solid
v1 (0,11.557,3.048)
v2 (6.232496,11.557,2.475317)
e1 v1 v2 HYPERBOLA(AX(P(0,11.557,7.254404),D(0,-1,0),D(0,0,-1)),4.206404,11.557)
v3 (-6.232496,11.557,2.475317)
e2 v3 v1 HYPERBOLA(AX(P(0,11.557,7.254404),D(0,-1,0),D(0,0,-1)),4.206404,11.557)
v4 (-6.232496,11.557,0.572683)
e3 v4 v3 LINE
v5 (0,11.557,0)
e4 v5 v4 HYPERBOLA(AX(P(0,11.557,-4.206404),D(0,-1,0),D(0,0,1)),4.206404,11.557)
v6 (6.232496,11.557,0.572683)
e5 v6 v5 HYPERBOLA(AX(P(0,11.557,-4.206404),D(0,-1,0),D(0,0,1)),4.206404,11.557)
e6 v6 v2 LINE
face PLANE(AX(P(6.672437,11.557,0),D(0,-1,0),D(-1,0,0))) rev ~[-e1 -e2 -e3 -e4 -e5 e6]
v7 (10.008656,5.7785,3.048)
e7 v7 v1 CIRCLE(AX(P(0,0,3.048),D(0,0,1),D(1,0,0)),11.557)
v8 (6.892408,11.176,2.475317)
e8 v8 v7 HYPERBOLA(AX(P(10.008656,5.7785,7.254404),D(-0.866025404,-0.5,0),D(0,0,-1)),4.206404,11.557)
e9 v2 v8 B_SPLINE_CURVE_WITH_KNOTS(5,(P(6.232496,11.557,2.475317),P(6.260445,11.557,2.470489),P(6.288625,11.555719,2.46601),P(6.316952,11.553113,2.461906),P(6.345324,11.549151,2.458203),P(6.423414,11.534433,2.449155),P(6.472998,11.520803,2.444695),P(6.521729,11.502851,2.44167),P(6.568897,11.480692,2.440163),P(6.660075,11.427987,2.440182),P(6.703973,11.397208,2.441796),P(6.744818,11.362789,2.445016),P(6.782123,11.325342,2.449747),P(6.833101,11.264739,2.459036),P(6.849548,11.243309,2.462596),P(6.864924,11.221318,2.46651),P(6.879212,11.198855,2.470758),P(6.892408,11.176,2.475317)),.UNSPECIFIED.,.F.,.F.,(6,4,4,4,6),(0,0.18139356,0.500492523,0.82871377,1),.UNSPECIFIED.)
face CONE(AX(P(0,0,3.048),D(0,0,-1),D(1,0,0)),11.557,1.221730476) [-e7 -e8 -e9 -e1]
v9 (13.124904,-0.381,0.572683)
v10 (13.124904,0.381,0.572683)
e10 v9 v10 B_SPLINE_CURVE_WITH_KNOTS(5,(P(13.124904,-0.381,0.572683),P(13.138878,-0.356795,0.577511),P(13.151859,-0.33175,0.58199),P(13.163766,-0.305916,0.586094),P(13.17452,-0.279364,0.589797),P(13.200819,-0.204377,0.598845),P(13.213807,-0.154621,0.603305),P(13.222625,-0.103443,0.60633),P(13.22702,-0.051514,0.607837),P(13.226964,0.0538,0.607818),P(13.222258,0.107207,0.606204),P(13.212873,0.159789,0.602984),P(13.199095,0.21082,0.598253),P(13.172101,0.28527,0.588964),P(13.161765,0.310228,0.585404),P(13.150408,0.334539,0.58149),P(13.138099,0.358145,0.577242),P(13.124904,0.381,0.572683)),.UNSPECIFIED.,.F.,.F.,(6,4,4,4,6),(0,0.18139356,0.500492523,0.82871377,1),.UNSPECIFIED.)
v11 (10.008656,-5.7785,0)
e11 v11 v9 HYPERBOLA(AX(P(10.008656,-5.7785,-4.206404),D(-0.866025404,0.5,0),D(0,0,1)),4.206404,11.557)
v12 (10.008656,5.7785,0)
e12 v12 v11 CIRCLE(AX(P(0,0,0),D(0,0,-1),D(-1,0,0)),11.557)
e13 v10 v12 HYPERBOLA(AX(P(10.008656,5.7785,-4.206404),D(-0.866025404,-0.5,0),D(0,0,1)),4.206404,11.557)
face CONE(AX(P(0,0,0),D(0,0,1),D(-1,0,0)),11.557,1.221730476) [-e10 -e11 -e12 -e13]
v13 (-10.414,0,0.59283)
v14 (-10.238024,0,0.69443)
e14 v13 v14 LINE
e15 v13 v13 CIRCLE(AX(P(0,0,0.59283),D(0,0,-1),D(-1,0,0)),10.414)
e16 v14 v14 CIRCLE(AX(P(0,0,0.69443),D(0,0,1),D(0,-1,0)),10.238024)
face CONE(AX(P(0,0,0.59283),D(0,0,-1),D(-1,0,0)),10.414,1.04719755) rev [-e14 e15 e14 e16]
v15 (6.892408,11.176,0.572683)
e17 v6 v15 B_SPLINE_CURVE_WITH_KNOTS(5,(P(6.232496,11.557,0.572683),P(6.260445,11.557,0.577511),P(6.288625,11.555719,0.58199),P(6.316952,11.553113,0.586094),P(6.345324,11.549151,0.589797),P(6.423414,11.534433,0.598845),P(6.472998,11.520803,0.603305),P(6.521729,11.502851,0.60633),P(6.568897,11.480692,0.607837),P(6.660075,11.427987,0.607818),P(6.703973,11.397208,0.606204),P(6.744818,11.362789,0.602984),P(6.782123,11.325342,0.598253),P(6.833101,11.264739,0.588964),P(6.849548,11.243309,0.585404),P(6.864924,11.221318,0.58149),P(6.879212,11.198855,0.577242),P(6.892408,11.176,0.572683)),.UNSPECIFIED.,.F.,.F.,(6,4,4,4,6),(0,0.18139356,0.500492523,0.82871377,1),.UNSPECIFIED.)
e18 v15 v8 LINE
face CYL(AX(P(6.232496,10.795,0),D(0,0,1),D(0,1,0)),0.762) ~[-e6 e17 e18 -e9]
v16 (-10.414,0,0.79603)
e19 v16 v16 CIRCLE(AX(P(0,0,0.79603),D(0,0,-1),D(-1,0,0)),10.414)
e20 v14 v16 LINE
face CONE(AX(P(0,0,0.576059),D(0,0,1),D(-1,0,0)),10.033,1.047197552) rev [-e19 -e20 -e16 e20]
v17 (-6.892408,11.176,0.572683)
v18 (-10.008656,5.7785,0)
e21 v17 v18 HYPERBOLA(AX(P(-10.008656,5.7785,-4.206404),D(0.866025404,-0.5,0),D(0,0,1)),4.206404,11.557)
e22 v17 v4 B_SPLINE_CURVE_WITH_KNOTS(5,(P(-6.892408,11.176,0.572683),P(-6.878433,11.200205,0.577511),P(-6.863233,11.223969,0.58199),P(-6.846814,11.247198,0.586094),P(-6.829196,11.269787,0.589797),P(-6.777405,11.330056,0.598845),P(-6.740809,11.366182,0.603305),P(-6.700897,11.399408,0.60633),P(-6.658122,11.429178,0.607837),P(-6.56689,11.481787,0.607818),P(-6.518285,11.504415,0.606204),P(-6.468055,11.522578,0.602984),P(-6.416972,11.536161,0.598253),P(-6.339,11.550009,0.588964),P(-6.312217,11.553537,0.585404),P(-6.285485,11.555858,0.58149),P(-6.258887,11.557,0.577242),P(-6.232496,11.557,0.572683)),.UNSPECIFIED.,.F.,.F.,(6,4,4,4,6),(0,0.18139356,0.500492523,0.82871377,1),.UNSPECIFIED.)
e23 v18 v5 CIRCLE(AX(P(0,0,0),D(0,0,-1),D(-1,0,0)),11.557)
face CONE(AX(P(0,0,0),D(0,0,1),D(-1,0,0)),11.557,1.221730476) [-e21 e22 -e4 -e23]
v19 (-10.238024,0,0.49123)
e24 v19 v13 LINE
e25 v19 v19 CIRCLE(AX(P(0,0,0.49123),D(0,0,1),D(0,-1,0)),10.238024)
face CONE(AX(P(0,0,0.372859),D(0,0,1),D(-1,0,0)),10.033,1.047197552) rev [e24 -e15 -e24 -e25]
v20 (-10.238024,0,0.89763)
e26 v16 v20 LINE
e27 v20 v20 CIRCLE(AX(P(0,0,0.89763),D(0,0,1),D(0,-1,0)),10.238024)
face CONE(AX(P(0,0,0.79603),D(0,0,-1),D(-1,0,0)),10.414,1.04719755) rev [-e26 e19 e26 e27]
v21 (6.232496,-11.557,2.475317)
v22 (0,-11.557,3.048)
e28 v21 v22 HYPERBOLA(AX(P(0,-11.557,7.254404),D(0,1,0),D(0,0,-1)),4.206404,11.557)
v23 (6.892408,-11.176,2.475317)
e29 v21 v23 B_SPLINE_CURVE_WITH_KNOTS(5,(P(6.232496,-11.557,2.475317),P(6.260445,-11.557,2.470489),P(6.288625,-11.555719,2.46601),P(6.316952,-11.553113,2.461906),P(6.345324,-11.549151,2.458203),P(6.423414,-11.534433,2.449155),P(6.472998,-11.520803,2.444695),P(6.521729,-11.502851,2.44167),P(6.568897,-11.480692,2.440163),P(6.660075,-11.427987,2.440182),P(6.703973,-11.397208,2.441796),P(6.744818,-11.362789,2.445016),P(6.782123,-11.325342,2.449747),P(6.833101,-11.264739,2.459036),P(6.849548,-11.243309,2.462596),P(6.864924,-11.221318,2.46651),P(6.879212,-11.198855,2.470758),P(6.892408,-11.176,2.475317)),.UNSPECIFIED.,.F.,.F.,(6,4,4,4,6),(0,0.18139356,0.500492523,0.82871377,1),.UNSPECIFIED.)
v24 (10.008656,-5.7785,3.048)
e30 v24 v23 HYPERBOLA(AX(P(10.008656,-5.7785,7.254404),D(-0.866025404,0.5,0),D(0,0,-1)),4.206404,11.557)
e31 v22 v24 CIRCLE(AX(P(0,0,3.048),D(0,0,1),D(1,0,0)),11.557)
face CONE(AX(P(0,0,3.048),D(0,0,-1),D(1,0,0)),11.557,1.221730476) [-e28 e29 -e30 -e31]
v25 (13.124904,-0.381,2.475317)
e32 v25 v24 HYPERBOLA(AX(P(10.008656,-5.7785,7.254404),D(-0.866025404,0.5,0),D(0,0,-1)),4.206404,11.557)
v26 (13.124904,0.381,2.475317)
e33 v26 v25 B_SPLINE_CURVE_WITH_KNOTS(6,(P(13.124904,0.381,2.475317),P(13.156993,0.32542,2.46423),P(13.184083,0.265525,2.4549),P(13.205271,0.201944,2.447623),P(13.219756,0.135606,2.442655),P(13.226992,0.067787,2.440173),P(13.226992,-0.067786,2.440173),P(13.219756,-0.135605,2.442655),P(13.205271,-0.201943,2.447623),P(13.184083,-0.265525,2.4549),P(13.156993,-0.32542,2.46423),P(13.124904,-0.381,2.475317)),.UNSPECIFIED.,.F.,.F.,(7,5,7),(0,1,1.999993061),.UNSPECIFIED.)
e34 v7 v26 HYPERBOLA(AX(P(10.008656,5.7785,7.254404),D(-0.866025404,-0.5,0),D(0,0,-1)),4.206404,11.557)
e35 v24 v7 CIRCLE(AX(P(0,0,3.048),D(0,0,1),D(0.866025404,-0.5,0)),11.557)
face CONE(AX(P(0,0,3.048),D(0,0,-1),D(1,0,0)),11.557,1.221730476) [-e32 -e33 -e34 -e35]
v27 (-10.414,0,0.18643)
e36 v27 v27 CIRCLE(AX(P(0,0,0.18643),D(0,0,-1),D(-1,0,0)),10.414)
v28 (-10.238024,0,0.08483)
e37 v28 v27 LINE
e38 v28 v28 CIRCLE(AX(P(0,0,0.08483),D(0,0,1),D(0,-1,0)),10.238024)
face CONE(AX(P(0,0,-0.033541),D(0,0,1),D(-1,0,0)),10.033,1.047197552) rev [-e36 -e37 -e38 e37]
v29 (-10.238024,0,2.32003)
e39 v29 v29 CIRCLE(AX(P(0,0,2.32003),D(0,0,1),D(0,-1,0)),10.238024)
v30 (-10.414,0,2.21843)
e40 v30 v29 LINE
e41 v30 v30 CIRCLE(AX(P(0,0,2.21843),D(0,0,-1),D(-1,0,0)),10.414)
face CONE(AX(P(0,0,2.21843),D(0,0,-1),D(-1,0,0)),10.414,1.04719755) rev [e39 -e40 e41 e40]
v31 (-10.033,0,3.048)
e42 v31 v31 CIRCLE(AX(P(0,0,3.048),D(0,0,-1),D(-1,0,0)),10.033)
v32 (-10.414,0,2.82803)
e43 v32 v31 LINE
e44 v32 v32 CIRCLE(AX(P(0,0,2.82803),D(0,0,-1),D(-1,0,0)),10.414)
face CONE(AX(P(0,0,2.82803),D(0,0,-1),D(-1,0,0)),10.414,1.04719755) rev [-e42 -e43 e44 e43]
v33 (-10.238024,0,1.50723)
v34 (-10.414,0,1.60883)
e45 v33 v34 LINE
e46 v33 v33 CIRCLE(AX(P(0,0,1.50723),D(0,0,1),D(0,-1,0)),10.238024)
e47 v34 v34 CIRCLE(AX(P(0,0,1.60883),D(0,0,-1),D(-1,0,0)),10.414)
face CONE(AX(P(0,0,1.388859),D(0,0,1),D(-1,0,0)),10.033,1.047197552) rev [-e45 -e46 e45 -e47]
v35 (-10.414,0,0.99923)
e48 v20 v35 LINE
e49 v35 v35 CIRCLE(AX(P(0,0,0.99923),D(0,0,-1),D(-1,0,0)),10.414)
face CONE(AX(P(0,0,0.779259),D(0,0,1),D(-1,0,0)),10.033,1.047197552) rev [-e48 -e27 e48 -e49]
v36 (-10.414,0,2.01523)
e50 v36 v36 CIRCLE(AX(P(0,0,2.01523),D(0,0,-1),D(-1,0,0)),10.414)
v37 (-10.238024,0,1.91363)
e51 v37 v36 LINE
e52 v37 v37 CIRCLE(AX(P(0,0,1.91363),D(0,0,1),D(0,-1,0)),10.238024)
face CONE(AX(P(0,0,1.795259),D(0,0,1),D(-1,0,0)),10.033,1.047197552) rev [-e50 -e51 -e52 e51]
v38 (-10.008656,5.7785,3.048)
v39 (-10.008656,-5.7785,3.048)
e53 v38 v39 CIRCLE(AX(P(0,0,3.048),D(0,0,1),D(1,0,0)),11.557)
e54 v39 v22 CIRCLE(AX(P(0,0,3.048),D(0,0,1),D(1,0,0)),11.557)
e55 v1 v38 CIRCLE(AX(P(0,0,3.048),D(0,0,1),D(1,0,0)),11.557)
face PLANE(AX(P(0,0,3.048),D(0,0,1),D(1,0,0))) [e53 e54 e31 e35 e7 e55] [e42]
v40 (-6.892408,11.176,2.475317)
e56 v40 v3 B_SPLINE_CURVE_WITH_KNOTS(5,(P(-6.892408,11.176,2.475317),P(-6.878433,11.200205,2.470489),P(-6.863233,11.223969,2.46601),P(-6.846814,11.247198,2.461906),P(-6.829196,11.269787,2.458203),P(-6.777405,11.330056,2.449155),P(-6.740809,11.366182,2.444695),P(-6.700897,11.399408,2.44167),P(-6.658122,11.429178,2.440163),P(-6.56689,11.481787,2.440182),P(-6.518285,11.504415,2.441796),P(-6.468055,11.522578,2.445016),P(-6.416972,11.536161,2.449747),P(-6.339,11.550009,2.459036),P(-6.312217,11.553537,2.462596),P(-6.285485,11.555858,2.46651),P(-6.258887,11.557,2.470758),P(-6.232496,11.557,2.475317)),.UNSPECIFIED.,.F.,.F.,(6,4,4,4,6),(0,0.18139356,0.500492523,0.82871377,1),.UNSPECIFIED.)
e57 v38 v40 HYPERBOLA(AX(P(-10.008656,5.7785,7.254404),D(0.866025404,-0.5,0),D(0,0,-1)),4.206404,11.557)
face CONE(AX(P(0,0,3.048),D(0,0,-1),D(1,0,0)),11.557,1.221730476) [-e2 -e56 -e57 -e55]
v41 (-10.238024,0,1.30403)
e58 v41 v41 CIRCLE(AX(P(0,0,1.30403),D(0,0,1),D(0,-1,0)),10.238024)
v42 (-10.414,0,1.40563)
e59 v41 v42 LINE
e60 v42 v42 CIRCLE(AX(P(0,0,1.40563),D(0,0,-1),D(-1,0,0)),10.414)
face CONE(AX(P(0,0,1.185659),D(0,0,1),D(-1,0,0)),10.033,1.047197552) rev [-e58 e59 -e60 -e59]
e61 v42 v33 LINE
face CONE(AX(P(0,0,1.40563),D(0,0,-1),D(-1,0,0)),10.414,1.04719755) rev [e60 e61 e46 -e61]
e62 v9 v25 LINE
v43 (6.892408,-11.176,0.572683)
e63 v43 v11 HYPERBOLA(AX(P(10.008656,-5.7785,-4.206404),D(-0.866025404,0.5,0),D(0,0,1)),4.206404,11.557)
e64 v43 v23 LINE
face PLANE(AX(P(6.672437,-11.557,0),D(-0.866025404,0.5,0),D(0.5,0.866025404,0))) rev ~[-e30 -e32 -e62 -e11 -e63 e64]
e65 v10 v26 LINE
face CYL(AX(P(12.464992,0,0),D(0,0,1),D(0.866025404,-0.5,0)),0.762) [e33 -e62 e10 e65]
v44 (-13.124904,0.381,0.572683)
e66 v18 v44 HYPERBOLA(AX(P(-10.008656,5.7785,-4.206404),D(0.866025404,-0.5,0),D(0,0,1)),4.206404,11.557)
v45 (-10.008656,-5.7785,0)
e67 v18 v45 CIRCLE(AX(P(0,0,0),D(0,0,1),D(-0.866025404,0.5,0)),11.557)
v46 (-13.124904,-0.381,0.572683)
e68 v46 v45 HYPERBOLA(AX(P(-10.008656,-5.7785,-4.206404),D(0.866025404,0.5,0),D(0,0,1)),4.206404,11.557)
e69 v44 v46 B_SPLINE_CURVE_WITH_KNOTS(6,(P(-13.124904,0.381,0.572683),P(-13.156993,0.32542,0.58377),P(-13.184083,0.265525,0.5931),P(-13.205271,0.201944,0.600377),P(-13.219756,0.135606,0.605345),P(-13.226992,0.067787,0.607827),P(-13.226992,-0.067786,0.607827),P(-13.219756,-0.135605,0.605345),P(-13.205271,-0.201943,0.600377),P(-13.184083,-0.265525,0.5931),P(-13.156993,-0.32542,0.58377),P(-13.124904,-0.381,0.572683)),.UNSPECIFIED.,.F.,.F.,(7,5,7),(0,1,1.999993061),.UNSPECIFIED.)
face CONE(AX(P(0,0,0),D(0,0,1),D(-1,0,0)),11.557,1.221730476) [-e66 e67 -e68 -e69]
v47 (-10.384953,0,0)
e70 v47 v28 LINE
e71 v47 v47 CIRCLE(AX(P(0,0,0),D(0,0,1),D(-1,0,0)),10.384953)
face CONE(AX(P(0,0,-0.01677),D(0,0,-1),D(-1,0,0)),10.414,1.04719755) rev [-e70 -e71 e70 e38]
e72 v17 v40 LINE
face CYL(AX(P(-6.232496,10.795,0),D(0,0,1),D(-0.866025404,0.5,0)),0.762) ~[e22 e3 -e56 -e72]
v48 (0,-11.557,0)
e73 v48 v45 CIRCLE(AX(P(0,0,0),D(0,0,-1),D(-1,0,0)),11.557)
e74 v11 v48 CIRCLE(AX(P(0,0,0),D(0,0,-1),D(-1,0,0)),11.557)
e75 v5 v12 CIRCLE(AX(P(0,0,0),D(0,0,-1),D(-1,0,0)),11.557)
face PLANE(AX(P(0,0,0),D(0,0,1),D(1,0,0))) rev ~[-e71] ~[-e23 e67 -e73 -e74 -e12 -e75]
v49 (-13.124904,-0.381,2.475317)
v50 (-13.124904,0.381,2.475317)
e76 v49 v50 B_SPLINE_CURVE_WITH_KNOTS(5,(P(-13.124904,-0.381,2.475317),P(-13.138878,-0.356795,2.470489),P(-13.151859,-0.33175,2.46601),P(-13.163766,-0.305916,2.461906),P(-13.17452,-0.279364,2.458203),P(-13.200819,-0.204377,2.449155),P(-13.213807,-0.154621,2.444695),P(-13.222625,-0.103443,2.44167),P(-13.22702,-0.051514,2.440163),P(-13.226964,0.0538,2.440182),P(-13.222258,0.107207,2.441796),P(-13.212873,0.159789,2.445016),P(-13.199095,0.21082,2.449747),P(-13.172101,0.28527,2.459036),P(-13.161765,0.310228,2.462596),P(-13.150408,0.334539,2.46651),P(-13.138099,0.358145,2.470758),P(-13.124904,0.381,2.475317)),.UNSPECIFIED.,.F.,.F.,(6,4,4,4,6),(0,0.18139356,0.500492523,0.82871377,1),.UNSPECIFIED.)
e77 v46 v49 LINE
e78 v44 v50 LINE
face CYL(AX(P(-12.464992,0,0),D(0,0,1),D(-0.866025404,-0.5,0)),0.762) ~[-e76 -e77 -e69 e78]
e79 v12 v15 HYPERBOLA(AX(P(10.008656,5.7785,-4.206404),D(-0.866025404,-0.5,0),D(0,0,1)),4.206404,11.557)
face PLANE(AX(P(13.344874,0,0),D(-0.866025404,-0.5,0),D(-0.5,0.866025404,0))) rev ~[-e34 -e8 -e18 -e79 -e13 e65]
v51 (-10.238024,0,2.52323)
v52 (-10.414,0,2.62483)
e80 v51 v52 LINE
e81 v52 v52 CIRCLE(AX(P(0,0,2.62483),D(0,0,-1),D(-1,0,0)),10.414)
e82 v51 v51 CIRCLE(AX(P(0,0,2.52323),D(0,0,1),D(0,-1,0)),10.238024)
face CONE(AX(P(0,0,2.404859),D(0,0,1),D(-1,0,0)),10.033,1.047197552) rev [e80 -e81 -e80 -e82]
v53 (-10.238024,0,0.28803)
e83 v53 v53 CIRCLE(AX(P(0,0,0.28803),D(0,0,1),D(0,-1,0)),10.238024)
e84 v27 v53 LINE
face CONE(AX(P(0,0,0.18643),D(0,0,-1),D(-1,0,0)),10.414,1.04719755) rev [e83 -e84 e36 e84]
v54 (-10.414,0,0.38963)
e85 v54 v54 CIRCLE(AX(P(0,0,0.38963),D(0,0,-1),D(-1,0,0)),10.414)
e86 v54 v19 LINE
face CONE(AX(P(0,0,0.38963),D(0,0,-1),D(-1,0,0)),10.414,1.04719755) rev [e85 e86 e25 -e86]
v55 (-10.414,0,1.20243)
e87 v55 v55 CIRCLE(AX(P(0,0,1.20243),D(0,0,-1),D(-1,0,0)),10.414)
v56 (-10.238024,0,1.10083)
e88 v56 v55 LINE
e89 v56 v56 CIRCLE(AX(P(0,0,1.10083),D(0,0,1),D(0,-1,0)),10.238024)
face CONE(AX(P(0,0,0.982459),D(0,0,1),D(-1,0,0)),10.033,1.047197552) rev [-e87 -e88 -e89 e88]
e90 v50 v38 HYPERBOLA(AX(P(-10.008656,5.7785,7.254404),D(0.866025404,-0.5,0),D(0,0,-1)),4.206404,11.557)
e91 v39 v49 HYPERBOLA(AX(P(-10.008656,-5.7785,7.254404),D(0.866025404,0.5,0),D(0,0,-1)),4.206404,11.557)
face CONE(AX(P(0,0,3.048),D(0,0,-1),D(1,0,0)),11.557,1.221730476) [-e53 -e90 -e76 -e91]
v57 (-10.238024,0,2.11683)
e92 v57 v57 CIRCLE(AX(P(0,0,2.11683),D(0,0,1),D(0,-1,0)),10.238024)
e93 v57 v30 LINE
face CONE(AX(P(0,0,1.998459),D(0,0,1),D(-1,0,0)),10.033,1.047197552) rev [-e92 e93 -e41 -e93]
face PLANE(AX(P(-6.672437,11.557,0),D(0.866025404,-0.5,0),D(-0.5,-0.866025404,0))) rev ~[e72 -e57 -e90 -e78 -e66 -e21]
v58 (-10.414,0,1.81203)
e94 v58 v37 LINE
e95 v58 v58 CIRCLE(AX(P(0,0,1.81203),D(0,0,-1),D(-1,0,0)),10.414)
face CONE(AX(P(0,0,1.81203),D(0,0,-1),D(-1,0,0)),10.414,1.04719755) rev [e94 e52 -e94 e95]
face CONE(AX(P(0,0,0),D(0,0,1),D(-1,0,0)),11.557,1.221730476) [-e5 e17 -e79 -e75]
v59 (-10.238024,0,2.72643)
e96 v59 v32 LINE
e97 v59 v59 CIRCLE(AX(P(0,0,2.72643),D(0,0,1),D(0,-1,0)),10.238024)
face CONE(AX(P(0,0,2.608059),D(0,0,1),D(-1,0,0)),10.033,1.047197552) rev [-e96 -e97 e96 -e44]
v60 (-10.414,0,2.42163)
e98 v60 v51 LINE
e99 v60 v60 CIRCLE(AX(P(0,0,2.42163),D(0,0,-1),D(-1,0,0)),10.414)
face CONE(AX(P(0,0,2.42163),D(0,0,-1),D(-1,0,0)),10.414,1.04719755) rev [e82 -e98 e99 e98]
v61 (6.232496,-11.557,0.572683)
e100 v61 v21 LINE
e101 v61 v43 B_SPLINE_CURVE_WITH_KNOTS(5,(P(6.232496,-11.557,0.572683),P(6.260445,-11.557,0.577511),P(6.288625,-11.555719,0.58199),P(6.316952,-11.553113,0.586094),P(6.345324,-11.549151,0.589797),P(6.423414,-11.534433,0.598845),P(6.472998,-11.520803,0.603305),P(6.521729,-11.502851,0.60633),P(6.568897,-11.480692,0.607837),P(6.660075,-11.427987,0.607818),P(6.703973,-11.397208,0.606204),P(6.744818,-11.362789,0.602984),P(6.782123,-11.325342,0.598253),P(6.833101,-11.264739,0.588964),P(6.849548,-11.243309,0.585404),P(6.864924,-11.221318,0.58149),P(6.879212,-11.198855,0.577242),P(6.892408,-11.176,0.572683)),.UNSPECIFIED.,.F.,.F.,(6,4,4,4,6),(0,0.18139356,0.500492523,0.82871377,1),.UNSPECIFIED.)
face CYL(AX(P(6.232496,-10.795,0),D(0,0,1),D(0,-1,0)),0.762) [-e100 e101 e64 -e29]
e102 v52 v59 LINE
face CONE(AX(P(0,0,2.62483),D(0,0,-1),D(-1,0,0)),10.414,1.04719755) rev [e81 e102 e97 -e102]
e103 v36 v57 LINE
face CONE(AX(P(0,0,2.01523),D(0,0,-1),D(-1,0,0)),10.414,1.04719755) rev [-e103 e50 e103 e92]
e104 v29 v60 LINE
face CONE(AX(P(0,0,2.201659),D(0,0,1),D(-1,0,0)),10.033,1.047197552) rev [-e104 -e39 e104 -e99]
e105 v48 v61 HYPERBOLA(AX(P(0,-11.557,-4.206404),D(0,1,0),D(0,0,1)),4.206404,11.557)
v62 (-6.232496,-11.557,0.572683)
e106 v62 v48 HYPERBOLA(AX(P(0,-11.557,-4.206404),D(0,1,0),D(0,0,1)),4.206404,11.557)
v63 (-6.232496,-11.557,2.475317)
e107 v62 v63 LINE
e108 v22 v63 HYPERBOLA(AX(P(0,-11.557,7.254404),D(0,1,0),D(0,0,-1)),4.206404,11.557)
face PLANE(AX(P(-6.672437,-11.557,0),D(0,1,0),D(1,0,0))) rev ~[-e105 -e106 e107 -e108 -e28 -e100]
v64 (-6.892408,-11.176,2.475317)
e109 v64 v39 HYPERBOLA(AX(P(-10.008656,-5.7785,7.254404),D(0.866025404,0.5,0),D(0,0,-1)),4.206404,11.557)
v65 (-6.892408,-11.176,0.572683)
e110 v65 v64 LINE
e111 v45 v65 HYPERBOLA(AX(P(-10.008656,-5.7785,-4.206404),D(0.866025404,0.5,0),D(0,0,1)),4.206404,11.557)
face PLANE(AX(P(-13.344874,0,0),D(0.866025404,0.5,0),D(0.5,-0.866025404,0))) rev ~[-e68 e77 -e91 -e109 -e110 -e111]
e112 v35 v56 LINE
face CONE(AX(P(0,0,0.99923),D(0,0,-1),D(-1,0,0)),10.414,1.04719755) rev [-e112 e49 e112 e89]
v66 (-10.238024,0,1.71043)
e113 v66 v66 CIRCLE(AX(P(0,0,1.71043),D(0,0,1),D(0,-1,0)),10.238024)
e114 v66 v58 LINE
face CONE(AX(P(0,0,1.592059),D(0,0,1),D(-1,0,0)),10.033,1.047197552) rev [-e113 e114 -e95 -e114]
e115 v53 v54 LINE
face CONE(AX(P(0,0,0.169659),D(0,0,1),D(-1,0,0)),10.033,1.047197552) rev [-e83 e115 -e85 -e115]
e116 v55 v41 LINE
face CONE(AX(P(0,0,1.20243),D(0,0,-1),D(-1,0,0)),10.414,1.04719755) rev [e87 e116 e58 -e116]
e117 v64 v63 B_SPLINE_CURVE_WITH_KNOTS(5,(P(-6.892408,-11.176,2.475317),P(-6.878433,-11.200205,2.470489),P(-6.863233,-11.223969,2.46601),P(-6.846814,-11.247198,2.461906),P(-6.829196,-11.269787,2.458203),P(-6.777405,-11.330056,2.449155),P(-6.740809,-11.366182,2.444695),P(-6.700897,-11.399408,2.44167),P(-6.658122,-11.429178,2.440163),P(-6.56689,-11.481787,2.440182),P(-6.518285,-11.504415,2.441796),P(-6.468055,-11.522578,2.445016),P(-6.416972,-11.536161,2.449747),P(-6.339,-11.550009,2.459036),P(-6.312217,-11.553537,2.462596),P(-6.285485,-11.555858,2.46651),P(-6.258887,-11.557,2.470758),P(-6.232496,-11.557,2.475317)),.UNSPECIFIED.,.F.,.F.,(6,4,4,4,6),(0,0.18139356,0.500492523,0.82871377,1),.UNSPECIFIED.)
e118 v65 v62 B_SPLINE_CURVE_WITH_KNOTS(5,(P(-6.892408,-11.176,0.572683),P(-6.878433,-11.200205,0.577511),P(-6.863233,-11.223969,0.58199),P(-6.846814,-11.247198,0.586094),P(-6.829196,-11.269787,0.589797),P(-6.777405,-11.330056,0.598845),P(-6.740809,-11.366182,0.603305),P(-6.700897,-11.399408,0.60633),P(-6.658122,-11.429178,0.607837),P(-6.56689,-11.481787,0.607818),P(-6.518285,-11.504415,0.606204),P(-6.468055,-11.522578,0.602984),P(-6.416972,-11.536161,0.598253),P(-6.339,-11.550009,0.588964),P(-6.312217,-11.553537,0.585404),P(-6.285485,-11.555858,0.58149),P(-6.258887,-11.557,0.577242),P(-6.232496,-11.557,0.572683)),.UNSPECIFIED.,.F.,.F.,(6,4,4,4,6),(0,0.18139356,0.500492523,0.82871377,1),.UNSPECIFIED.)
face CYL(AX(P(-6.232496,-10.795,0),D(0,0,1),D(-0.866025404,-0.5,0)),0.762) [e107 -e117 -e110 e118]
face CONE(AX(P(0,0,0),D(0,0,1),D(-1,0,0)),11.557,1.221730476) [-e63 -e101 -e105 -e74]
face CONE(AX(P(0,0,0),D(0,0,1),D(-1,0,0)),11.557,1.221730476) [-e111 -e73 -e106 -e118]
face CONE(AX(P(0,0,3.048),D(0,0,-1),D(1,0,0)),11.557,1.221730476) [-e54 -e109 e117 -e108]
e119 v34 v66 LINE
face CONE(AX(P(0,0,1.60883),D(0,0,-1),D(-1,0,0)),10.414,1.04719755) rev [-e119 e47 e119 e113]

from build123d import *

# Parameters (mm, degrees)
SKETCH1_R          = 10.033
EXTRUDE1_DEPTH     = 3.048
FILLET1_R          = 0.762
SKETCH2_OUTSIDE_W  = 57.75
SKETCH2_OUTSIDE_H  = 54.41
SKETCH2_OUTSIDE_R  = 11.557
CUT_EXTRUDE1_DEPTH = 4.048
CUT_EXTRUDE1_DRAFT = -70
SKETCH3_OUTSIDE_W  = 57.75
SKETCH3_OUTSIDE_H  = 54.41
SKETCH3_OUTSIDE_R  = 11.557
CUT_EXTRUDE2_DEPTH = 4.0480001
CUT_EXTRUDE2_DRAFT = -70
LPATTERN1_COUNT    = 15
LPATTERN1_PITCH    = 0.2032


with BuildPart() as part:
    # Sketch1 → Extrude1 (new body)
    with BuildSketch(Plane.XY):
        Polygon((-13.344874122, 0), (-6.672437061, -11.557), (6.672437061, -11.557), (13.344874122, 0), (6.672437061, 11.557), (-6.672437061, 11.557), align=None)
        Circle(SKETCH1_R, mode=Mode.SUBTRACT)
    extrude(amount=EXTRUDE1_DEPTH)

    # Fillet1
    fillet1_edges = [part.edges().sort_by_distance(p)[0] for p in [
        (13.344874122, 0, 1.524),
        (6.672437061, -11.557, 1.524),
        (-6.672437061, -11.557, 1.524),
        (-13.344874122, 0, 1.524),
        (-6.672437061, 11.557, 1.524),
        (6.672437061, 11.557, 1.524),
    ]]
    fillet(fillet1_edges, radius=FILLET1_R)


with BuildPart() as cut_extrude1_tool:
    # Sketch2 outside → Cut-Extrude1 (with draft: the straight prism first)
    with BuildSketch(Plane.XY.offset(3.048)):
        Rectangle(SKETCH2_OUTSIDE_W, SKETCH2_OUTSIDE_H)
        Circle(SKETCH2_OUTSIDE_R, mode=Mode.SUBTRACT)
    extrude(amount=-CUT_EXTRUDE1_DEPTH)
    # Cut-Extrude1: the draft: its side faces are tilted about the plane it starts from
    cut_extrude1_sides = [cut_extrude1_tool.faces().sort_by_distance(p)[0] for p in [
        (0, -27.205, 1.024),
        (28.875, 0, 1.024),
        (0, 27.205, 1.024),
        (-28.875, 0, 1.024),
        (-11.557, 0, 1.024),
    ]]
    draft(cut_extrude1_sides, Plane.XY.offset(3.048), CUT_EXTRUDE1_DRAFT)


with BuildPart() as part_1:
    add(part.part)

    # Cut-Extrude1: cut by cut_extrude1_tool
    add(cut_extrude1_tool.part, mode=Mode.SUBTRACT)


with BuildPart() as cut_extrude2_tool:
    # Sketch3 outside → Cut-Extrude2 (with draft: the straight prism first)
    with BuildSketch(Plane(origin=(0, 0, 0), x_dir=(-1, 0, 0), z_dir=(0, 0, -1))):
        Rectangle(SKETCH3_OUTSIDE_W, SKETCH3_OUTSIDE_H)
        Circle(SKETCH3_OUTSIDE_R, mode=Mode.SUBTRACT)
    extrude(amount=-CUT_EXTRUDE2_DEPTH)
    # Cut-Extrude2: the draft: its side faces are tilted about the plane it starts from
    cut_extrude2_sides = [cut_extrude2_tool.faces().sort_by_distance(p)[0] for p in [
        (0, -27.205, 2.02400005),
        (-28.875, 0, 2.02400005),
        (0, 27.205, 2.02400005),
        (28.875, 0, 2.02400005),
        (11.557, 0, 2.02400005),
    ]]
    draft(cut_extrude2_sides, Plane(origin=(0, 0, 0), x_dir=(-1, 0, 0), z_dir=(0, 0, -1)), CUT_EXTRUDE2_DRAFT)


with BuildPart() as part_2:
    add(part_1.part)

    # Cut-Extrude2: cut by cut_extrude2_tool
    add(cut_extrude2_tool.part, mode=Mode.SUBTRACT)

    # Sketch4 → Cut-Revolve1 (revolve, cut)
    with BuildSketch(Plane(origin=(0, 0, 0), x_dir=(1, 0, 0), z_dir=(0, 1, 0))):
        Polygon((-10.033, -3.048), (-10.033, -2.608059095), (-10.414, -2.828029547), align=None)
    cut_revolve1 = revolve(axis=Axis((0, 0, 3.048), (0, 0, -1)), mode=Mode.SUBTRACT)

    # LPattern1: Cut-Revolve1 ×15
    with Locations(*[(0, 0, -i * LPATTERN1_PITCH) for i in range(1, LPATTERN1_COUNT)]):
        add(cut_revolve1, mode=Mode.SUBTRACT)


solid = part_2.part
